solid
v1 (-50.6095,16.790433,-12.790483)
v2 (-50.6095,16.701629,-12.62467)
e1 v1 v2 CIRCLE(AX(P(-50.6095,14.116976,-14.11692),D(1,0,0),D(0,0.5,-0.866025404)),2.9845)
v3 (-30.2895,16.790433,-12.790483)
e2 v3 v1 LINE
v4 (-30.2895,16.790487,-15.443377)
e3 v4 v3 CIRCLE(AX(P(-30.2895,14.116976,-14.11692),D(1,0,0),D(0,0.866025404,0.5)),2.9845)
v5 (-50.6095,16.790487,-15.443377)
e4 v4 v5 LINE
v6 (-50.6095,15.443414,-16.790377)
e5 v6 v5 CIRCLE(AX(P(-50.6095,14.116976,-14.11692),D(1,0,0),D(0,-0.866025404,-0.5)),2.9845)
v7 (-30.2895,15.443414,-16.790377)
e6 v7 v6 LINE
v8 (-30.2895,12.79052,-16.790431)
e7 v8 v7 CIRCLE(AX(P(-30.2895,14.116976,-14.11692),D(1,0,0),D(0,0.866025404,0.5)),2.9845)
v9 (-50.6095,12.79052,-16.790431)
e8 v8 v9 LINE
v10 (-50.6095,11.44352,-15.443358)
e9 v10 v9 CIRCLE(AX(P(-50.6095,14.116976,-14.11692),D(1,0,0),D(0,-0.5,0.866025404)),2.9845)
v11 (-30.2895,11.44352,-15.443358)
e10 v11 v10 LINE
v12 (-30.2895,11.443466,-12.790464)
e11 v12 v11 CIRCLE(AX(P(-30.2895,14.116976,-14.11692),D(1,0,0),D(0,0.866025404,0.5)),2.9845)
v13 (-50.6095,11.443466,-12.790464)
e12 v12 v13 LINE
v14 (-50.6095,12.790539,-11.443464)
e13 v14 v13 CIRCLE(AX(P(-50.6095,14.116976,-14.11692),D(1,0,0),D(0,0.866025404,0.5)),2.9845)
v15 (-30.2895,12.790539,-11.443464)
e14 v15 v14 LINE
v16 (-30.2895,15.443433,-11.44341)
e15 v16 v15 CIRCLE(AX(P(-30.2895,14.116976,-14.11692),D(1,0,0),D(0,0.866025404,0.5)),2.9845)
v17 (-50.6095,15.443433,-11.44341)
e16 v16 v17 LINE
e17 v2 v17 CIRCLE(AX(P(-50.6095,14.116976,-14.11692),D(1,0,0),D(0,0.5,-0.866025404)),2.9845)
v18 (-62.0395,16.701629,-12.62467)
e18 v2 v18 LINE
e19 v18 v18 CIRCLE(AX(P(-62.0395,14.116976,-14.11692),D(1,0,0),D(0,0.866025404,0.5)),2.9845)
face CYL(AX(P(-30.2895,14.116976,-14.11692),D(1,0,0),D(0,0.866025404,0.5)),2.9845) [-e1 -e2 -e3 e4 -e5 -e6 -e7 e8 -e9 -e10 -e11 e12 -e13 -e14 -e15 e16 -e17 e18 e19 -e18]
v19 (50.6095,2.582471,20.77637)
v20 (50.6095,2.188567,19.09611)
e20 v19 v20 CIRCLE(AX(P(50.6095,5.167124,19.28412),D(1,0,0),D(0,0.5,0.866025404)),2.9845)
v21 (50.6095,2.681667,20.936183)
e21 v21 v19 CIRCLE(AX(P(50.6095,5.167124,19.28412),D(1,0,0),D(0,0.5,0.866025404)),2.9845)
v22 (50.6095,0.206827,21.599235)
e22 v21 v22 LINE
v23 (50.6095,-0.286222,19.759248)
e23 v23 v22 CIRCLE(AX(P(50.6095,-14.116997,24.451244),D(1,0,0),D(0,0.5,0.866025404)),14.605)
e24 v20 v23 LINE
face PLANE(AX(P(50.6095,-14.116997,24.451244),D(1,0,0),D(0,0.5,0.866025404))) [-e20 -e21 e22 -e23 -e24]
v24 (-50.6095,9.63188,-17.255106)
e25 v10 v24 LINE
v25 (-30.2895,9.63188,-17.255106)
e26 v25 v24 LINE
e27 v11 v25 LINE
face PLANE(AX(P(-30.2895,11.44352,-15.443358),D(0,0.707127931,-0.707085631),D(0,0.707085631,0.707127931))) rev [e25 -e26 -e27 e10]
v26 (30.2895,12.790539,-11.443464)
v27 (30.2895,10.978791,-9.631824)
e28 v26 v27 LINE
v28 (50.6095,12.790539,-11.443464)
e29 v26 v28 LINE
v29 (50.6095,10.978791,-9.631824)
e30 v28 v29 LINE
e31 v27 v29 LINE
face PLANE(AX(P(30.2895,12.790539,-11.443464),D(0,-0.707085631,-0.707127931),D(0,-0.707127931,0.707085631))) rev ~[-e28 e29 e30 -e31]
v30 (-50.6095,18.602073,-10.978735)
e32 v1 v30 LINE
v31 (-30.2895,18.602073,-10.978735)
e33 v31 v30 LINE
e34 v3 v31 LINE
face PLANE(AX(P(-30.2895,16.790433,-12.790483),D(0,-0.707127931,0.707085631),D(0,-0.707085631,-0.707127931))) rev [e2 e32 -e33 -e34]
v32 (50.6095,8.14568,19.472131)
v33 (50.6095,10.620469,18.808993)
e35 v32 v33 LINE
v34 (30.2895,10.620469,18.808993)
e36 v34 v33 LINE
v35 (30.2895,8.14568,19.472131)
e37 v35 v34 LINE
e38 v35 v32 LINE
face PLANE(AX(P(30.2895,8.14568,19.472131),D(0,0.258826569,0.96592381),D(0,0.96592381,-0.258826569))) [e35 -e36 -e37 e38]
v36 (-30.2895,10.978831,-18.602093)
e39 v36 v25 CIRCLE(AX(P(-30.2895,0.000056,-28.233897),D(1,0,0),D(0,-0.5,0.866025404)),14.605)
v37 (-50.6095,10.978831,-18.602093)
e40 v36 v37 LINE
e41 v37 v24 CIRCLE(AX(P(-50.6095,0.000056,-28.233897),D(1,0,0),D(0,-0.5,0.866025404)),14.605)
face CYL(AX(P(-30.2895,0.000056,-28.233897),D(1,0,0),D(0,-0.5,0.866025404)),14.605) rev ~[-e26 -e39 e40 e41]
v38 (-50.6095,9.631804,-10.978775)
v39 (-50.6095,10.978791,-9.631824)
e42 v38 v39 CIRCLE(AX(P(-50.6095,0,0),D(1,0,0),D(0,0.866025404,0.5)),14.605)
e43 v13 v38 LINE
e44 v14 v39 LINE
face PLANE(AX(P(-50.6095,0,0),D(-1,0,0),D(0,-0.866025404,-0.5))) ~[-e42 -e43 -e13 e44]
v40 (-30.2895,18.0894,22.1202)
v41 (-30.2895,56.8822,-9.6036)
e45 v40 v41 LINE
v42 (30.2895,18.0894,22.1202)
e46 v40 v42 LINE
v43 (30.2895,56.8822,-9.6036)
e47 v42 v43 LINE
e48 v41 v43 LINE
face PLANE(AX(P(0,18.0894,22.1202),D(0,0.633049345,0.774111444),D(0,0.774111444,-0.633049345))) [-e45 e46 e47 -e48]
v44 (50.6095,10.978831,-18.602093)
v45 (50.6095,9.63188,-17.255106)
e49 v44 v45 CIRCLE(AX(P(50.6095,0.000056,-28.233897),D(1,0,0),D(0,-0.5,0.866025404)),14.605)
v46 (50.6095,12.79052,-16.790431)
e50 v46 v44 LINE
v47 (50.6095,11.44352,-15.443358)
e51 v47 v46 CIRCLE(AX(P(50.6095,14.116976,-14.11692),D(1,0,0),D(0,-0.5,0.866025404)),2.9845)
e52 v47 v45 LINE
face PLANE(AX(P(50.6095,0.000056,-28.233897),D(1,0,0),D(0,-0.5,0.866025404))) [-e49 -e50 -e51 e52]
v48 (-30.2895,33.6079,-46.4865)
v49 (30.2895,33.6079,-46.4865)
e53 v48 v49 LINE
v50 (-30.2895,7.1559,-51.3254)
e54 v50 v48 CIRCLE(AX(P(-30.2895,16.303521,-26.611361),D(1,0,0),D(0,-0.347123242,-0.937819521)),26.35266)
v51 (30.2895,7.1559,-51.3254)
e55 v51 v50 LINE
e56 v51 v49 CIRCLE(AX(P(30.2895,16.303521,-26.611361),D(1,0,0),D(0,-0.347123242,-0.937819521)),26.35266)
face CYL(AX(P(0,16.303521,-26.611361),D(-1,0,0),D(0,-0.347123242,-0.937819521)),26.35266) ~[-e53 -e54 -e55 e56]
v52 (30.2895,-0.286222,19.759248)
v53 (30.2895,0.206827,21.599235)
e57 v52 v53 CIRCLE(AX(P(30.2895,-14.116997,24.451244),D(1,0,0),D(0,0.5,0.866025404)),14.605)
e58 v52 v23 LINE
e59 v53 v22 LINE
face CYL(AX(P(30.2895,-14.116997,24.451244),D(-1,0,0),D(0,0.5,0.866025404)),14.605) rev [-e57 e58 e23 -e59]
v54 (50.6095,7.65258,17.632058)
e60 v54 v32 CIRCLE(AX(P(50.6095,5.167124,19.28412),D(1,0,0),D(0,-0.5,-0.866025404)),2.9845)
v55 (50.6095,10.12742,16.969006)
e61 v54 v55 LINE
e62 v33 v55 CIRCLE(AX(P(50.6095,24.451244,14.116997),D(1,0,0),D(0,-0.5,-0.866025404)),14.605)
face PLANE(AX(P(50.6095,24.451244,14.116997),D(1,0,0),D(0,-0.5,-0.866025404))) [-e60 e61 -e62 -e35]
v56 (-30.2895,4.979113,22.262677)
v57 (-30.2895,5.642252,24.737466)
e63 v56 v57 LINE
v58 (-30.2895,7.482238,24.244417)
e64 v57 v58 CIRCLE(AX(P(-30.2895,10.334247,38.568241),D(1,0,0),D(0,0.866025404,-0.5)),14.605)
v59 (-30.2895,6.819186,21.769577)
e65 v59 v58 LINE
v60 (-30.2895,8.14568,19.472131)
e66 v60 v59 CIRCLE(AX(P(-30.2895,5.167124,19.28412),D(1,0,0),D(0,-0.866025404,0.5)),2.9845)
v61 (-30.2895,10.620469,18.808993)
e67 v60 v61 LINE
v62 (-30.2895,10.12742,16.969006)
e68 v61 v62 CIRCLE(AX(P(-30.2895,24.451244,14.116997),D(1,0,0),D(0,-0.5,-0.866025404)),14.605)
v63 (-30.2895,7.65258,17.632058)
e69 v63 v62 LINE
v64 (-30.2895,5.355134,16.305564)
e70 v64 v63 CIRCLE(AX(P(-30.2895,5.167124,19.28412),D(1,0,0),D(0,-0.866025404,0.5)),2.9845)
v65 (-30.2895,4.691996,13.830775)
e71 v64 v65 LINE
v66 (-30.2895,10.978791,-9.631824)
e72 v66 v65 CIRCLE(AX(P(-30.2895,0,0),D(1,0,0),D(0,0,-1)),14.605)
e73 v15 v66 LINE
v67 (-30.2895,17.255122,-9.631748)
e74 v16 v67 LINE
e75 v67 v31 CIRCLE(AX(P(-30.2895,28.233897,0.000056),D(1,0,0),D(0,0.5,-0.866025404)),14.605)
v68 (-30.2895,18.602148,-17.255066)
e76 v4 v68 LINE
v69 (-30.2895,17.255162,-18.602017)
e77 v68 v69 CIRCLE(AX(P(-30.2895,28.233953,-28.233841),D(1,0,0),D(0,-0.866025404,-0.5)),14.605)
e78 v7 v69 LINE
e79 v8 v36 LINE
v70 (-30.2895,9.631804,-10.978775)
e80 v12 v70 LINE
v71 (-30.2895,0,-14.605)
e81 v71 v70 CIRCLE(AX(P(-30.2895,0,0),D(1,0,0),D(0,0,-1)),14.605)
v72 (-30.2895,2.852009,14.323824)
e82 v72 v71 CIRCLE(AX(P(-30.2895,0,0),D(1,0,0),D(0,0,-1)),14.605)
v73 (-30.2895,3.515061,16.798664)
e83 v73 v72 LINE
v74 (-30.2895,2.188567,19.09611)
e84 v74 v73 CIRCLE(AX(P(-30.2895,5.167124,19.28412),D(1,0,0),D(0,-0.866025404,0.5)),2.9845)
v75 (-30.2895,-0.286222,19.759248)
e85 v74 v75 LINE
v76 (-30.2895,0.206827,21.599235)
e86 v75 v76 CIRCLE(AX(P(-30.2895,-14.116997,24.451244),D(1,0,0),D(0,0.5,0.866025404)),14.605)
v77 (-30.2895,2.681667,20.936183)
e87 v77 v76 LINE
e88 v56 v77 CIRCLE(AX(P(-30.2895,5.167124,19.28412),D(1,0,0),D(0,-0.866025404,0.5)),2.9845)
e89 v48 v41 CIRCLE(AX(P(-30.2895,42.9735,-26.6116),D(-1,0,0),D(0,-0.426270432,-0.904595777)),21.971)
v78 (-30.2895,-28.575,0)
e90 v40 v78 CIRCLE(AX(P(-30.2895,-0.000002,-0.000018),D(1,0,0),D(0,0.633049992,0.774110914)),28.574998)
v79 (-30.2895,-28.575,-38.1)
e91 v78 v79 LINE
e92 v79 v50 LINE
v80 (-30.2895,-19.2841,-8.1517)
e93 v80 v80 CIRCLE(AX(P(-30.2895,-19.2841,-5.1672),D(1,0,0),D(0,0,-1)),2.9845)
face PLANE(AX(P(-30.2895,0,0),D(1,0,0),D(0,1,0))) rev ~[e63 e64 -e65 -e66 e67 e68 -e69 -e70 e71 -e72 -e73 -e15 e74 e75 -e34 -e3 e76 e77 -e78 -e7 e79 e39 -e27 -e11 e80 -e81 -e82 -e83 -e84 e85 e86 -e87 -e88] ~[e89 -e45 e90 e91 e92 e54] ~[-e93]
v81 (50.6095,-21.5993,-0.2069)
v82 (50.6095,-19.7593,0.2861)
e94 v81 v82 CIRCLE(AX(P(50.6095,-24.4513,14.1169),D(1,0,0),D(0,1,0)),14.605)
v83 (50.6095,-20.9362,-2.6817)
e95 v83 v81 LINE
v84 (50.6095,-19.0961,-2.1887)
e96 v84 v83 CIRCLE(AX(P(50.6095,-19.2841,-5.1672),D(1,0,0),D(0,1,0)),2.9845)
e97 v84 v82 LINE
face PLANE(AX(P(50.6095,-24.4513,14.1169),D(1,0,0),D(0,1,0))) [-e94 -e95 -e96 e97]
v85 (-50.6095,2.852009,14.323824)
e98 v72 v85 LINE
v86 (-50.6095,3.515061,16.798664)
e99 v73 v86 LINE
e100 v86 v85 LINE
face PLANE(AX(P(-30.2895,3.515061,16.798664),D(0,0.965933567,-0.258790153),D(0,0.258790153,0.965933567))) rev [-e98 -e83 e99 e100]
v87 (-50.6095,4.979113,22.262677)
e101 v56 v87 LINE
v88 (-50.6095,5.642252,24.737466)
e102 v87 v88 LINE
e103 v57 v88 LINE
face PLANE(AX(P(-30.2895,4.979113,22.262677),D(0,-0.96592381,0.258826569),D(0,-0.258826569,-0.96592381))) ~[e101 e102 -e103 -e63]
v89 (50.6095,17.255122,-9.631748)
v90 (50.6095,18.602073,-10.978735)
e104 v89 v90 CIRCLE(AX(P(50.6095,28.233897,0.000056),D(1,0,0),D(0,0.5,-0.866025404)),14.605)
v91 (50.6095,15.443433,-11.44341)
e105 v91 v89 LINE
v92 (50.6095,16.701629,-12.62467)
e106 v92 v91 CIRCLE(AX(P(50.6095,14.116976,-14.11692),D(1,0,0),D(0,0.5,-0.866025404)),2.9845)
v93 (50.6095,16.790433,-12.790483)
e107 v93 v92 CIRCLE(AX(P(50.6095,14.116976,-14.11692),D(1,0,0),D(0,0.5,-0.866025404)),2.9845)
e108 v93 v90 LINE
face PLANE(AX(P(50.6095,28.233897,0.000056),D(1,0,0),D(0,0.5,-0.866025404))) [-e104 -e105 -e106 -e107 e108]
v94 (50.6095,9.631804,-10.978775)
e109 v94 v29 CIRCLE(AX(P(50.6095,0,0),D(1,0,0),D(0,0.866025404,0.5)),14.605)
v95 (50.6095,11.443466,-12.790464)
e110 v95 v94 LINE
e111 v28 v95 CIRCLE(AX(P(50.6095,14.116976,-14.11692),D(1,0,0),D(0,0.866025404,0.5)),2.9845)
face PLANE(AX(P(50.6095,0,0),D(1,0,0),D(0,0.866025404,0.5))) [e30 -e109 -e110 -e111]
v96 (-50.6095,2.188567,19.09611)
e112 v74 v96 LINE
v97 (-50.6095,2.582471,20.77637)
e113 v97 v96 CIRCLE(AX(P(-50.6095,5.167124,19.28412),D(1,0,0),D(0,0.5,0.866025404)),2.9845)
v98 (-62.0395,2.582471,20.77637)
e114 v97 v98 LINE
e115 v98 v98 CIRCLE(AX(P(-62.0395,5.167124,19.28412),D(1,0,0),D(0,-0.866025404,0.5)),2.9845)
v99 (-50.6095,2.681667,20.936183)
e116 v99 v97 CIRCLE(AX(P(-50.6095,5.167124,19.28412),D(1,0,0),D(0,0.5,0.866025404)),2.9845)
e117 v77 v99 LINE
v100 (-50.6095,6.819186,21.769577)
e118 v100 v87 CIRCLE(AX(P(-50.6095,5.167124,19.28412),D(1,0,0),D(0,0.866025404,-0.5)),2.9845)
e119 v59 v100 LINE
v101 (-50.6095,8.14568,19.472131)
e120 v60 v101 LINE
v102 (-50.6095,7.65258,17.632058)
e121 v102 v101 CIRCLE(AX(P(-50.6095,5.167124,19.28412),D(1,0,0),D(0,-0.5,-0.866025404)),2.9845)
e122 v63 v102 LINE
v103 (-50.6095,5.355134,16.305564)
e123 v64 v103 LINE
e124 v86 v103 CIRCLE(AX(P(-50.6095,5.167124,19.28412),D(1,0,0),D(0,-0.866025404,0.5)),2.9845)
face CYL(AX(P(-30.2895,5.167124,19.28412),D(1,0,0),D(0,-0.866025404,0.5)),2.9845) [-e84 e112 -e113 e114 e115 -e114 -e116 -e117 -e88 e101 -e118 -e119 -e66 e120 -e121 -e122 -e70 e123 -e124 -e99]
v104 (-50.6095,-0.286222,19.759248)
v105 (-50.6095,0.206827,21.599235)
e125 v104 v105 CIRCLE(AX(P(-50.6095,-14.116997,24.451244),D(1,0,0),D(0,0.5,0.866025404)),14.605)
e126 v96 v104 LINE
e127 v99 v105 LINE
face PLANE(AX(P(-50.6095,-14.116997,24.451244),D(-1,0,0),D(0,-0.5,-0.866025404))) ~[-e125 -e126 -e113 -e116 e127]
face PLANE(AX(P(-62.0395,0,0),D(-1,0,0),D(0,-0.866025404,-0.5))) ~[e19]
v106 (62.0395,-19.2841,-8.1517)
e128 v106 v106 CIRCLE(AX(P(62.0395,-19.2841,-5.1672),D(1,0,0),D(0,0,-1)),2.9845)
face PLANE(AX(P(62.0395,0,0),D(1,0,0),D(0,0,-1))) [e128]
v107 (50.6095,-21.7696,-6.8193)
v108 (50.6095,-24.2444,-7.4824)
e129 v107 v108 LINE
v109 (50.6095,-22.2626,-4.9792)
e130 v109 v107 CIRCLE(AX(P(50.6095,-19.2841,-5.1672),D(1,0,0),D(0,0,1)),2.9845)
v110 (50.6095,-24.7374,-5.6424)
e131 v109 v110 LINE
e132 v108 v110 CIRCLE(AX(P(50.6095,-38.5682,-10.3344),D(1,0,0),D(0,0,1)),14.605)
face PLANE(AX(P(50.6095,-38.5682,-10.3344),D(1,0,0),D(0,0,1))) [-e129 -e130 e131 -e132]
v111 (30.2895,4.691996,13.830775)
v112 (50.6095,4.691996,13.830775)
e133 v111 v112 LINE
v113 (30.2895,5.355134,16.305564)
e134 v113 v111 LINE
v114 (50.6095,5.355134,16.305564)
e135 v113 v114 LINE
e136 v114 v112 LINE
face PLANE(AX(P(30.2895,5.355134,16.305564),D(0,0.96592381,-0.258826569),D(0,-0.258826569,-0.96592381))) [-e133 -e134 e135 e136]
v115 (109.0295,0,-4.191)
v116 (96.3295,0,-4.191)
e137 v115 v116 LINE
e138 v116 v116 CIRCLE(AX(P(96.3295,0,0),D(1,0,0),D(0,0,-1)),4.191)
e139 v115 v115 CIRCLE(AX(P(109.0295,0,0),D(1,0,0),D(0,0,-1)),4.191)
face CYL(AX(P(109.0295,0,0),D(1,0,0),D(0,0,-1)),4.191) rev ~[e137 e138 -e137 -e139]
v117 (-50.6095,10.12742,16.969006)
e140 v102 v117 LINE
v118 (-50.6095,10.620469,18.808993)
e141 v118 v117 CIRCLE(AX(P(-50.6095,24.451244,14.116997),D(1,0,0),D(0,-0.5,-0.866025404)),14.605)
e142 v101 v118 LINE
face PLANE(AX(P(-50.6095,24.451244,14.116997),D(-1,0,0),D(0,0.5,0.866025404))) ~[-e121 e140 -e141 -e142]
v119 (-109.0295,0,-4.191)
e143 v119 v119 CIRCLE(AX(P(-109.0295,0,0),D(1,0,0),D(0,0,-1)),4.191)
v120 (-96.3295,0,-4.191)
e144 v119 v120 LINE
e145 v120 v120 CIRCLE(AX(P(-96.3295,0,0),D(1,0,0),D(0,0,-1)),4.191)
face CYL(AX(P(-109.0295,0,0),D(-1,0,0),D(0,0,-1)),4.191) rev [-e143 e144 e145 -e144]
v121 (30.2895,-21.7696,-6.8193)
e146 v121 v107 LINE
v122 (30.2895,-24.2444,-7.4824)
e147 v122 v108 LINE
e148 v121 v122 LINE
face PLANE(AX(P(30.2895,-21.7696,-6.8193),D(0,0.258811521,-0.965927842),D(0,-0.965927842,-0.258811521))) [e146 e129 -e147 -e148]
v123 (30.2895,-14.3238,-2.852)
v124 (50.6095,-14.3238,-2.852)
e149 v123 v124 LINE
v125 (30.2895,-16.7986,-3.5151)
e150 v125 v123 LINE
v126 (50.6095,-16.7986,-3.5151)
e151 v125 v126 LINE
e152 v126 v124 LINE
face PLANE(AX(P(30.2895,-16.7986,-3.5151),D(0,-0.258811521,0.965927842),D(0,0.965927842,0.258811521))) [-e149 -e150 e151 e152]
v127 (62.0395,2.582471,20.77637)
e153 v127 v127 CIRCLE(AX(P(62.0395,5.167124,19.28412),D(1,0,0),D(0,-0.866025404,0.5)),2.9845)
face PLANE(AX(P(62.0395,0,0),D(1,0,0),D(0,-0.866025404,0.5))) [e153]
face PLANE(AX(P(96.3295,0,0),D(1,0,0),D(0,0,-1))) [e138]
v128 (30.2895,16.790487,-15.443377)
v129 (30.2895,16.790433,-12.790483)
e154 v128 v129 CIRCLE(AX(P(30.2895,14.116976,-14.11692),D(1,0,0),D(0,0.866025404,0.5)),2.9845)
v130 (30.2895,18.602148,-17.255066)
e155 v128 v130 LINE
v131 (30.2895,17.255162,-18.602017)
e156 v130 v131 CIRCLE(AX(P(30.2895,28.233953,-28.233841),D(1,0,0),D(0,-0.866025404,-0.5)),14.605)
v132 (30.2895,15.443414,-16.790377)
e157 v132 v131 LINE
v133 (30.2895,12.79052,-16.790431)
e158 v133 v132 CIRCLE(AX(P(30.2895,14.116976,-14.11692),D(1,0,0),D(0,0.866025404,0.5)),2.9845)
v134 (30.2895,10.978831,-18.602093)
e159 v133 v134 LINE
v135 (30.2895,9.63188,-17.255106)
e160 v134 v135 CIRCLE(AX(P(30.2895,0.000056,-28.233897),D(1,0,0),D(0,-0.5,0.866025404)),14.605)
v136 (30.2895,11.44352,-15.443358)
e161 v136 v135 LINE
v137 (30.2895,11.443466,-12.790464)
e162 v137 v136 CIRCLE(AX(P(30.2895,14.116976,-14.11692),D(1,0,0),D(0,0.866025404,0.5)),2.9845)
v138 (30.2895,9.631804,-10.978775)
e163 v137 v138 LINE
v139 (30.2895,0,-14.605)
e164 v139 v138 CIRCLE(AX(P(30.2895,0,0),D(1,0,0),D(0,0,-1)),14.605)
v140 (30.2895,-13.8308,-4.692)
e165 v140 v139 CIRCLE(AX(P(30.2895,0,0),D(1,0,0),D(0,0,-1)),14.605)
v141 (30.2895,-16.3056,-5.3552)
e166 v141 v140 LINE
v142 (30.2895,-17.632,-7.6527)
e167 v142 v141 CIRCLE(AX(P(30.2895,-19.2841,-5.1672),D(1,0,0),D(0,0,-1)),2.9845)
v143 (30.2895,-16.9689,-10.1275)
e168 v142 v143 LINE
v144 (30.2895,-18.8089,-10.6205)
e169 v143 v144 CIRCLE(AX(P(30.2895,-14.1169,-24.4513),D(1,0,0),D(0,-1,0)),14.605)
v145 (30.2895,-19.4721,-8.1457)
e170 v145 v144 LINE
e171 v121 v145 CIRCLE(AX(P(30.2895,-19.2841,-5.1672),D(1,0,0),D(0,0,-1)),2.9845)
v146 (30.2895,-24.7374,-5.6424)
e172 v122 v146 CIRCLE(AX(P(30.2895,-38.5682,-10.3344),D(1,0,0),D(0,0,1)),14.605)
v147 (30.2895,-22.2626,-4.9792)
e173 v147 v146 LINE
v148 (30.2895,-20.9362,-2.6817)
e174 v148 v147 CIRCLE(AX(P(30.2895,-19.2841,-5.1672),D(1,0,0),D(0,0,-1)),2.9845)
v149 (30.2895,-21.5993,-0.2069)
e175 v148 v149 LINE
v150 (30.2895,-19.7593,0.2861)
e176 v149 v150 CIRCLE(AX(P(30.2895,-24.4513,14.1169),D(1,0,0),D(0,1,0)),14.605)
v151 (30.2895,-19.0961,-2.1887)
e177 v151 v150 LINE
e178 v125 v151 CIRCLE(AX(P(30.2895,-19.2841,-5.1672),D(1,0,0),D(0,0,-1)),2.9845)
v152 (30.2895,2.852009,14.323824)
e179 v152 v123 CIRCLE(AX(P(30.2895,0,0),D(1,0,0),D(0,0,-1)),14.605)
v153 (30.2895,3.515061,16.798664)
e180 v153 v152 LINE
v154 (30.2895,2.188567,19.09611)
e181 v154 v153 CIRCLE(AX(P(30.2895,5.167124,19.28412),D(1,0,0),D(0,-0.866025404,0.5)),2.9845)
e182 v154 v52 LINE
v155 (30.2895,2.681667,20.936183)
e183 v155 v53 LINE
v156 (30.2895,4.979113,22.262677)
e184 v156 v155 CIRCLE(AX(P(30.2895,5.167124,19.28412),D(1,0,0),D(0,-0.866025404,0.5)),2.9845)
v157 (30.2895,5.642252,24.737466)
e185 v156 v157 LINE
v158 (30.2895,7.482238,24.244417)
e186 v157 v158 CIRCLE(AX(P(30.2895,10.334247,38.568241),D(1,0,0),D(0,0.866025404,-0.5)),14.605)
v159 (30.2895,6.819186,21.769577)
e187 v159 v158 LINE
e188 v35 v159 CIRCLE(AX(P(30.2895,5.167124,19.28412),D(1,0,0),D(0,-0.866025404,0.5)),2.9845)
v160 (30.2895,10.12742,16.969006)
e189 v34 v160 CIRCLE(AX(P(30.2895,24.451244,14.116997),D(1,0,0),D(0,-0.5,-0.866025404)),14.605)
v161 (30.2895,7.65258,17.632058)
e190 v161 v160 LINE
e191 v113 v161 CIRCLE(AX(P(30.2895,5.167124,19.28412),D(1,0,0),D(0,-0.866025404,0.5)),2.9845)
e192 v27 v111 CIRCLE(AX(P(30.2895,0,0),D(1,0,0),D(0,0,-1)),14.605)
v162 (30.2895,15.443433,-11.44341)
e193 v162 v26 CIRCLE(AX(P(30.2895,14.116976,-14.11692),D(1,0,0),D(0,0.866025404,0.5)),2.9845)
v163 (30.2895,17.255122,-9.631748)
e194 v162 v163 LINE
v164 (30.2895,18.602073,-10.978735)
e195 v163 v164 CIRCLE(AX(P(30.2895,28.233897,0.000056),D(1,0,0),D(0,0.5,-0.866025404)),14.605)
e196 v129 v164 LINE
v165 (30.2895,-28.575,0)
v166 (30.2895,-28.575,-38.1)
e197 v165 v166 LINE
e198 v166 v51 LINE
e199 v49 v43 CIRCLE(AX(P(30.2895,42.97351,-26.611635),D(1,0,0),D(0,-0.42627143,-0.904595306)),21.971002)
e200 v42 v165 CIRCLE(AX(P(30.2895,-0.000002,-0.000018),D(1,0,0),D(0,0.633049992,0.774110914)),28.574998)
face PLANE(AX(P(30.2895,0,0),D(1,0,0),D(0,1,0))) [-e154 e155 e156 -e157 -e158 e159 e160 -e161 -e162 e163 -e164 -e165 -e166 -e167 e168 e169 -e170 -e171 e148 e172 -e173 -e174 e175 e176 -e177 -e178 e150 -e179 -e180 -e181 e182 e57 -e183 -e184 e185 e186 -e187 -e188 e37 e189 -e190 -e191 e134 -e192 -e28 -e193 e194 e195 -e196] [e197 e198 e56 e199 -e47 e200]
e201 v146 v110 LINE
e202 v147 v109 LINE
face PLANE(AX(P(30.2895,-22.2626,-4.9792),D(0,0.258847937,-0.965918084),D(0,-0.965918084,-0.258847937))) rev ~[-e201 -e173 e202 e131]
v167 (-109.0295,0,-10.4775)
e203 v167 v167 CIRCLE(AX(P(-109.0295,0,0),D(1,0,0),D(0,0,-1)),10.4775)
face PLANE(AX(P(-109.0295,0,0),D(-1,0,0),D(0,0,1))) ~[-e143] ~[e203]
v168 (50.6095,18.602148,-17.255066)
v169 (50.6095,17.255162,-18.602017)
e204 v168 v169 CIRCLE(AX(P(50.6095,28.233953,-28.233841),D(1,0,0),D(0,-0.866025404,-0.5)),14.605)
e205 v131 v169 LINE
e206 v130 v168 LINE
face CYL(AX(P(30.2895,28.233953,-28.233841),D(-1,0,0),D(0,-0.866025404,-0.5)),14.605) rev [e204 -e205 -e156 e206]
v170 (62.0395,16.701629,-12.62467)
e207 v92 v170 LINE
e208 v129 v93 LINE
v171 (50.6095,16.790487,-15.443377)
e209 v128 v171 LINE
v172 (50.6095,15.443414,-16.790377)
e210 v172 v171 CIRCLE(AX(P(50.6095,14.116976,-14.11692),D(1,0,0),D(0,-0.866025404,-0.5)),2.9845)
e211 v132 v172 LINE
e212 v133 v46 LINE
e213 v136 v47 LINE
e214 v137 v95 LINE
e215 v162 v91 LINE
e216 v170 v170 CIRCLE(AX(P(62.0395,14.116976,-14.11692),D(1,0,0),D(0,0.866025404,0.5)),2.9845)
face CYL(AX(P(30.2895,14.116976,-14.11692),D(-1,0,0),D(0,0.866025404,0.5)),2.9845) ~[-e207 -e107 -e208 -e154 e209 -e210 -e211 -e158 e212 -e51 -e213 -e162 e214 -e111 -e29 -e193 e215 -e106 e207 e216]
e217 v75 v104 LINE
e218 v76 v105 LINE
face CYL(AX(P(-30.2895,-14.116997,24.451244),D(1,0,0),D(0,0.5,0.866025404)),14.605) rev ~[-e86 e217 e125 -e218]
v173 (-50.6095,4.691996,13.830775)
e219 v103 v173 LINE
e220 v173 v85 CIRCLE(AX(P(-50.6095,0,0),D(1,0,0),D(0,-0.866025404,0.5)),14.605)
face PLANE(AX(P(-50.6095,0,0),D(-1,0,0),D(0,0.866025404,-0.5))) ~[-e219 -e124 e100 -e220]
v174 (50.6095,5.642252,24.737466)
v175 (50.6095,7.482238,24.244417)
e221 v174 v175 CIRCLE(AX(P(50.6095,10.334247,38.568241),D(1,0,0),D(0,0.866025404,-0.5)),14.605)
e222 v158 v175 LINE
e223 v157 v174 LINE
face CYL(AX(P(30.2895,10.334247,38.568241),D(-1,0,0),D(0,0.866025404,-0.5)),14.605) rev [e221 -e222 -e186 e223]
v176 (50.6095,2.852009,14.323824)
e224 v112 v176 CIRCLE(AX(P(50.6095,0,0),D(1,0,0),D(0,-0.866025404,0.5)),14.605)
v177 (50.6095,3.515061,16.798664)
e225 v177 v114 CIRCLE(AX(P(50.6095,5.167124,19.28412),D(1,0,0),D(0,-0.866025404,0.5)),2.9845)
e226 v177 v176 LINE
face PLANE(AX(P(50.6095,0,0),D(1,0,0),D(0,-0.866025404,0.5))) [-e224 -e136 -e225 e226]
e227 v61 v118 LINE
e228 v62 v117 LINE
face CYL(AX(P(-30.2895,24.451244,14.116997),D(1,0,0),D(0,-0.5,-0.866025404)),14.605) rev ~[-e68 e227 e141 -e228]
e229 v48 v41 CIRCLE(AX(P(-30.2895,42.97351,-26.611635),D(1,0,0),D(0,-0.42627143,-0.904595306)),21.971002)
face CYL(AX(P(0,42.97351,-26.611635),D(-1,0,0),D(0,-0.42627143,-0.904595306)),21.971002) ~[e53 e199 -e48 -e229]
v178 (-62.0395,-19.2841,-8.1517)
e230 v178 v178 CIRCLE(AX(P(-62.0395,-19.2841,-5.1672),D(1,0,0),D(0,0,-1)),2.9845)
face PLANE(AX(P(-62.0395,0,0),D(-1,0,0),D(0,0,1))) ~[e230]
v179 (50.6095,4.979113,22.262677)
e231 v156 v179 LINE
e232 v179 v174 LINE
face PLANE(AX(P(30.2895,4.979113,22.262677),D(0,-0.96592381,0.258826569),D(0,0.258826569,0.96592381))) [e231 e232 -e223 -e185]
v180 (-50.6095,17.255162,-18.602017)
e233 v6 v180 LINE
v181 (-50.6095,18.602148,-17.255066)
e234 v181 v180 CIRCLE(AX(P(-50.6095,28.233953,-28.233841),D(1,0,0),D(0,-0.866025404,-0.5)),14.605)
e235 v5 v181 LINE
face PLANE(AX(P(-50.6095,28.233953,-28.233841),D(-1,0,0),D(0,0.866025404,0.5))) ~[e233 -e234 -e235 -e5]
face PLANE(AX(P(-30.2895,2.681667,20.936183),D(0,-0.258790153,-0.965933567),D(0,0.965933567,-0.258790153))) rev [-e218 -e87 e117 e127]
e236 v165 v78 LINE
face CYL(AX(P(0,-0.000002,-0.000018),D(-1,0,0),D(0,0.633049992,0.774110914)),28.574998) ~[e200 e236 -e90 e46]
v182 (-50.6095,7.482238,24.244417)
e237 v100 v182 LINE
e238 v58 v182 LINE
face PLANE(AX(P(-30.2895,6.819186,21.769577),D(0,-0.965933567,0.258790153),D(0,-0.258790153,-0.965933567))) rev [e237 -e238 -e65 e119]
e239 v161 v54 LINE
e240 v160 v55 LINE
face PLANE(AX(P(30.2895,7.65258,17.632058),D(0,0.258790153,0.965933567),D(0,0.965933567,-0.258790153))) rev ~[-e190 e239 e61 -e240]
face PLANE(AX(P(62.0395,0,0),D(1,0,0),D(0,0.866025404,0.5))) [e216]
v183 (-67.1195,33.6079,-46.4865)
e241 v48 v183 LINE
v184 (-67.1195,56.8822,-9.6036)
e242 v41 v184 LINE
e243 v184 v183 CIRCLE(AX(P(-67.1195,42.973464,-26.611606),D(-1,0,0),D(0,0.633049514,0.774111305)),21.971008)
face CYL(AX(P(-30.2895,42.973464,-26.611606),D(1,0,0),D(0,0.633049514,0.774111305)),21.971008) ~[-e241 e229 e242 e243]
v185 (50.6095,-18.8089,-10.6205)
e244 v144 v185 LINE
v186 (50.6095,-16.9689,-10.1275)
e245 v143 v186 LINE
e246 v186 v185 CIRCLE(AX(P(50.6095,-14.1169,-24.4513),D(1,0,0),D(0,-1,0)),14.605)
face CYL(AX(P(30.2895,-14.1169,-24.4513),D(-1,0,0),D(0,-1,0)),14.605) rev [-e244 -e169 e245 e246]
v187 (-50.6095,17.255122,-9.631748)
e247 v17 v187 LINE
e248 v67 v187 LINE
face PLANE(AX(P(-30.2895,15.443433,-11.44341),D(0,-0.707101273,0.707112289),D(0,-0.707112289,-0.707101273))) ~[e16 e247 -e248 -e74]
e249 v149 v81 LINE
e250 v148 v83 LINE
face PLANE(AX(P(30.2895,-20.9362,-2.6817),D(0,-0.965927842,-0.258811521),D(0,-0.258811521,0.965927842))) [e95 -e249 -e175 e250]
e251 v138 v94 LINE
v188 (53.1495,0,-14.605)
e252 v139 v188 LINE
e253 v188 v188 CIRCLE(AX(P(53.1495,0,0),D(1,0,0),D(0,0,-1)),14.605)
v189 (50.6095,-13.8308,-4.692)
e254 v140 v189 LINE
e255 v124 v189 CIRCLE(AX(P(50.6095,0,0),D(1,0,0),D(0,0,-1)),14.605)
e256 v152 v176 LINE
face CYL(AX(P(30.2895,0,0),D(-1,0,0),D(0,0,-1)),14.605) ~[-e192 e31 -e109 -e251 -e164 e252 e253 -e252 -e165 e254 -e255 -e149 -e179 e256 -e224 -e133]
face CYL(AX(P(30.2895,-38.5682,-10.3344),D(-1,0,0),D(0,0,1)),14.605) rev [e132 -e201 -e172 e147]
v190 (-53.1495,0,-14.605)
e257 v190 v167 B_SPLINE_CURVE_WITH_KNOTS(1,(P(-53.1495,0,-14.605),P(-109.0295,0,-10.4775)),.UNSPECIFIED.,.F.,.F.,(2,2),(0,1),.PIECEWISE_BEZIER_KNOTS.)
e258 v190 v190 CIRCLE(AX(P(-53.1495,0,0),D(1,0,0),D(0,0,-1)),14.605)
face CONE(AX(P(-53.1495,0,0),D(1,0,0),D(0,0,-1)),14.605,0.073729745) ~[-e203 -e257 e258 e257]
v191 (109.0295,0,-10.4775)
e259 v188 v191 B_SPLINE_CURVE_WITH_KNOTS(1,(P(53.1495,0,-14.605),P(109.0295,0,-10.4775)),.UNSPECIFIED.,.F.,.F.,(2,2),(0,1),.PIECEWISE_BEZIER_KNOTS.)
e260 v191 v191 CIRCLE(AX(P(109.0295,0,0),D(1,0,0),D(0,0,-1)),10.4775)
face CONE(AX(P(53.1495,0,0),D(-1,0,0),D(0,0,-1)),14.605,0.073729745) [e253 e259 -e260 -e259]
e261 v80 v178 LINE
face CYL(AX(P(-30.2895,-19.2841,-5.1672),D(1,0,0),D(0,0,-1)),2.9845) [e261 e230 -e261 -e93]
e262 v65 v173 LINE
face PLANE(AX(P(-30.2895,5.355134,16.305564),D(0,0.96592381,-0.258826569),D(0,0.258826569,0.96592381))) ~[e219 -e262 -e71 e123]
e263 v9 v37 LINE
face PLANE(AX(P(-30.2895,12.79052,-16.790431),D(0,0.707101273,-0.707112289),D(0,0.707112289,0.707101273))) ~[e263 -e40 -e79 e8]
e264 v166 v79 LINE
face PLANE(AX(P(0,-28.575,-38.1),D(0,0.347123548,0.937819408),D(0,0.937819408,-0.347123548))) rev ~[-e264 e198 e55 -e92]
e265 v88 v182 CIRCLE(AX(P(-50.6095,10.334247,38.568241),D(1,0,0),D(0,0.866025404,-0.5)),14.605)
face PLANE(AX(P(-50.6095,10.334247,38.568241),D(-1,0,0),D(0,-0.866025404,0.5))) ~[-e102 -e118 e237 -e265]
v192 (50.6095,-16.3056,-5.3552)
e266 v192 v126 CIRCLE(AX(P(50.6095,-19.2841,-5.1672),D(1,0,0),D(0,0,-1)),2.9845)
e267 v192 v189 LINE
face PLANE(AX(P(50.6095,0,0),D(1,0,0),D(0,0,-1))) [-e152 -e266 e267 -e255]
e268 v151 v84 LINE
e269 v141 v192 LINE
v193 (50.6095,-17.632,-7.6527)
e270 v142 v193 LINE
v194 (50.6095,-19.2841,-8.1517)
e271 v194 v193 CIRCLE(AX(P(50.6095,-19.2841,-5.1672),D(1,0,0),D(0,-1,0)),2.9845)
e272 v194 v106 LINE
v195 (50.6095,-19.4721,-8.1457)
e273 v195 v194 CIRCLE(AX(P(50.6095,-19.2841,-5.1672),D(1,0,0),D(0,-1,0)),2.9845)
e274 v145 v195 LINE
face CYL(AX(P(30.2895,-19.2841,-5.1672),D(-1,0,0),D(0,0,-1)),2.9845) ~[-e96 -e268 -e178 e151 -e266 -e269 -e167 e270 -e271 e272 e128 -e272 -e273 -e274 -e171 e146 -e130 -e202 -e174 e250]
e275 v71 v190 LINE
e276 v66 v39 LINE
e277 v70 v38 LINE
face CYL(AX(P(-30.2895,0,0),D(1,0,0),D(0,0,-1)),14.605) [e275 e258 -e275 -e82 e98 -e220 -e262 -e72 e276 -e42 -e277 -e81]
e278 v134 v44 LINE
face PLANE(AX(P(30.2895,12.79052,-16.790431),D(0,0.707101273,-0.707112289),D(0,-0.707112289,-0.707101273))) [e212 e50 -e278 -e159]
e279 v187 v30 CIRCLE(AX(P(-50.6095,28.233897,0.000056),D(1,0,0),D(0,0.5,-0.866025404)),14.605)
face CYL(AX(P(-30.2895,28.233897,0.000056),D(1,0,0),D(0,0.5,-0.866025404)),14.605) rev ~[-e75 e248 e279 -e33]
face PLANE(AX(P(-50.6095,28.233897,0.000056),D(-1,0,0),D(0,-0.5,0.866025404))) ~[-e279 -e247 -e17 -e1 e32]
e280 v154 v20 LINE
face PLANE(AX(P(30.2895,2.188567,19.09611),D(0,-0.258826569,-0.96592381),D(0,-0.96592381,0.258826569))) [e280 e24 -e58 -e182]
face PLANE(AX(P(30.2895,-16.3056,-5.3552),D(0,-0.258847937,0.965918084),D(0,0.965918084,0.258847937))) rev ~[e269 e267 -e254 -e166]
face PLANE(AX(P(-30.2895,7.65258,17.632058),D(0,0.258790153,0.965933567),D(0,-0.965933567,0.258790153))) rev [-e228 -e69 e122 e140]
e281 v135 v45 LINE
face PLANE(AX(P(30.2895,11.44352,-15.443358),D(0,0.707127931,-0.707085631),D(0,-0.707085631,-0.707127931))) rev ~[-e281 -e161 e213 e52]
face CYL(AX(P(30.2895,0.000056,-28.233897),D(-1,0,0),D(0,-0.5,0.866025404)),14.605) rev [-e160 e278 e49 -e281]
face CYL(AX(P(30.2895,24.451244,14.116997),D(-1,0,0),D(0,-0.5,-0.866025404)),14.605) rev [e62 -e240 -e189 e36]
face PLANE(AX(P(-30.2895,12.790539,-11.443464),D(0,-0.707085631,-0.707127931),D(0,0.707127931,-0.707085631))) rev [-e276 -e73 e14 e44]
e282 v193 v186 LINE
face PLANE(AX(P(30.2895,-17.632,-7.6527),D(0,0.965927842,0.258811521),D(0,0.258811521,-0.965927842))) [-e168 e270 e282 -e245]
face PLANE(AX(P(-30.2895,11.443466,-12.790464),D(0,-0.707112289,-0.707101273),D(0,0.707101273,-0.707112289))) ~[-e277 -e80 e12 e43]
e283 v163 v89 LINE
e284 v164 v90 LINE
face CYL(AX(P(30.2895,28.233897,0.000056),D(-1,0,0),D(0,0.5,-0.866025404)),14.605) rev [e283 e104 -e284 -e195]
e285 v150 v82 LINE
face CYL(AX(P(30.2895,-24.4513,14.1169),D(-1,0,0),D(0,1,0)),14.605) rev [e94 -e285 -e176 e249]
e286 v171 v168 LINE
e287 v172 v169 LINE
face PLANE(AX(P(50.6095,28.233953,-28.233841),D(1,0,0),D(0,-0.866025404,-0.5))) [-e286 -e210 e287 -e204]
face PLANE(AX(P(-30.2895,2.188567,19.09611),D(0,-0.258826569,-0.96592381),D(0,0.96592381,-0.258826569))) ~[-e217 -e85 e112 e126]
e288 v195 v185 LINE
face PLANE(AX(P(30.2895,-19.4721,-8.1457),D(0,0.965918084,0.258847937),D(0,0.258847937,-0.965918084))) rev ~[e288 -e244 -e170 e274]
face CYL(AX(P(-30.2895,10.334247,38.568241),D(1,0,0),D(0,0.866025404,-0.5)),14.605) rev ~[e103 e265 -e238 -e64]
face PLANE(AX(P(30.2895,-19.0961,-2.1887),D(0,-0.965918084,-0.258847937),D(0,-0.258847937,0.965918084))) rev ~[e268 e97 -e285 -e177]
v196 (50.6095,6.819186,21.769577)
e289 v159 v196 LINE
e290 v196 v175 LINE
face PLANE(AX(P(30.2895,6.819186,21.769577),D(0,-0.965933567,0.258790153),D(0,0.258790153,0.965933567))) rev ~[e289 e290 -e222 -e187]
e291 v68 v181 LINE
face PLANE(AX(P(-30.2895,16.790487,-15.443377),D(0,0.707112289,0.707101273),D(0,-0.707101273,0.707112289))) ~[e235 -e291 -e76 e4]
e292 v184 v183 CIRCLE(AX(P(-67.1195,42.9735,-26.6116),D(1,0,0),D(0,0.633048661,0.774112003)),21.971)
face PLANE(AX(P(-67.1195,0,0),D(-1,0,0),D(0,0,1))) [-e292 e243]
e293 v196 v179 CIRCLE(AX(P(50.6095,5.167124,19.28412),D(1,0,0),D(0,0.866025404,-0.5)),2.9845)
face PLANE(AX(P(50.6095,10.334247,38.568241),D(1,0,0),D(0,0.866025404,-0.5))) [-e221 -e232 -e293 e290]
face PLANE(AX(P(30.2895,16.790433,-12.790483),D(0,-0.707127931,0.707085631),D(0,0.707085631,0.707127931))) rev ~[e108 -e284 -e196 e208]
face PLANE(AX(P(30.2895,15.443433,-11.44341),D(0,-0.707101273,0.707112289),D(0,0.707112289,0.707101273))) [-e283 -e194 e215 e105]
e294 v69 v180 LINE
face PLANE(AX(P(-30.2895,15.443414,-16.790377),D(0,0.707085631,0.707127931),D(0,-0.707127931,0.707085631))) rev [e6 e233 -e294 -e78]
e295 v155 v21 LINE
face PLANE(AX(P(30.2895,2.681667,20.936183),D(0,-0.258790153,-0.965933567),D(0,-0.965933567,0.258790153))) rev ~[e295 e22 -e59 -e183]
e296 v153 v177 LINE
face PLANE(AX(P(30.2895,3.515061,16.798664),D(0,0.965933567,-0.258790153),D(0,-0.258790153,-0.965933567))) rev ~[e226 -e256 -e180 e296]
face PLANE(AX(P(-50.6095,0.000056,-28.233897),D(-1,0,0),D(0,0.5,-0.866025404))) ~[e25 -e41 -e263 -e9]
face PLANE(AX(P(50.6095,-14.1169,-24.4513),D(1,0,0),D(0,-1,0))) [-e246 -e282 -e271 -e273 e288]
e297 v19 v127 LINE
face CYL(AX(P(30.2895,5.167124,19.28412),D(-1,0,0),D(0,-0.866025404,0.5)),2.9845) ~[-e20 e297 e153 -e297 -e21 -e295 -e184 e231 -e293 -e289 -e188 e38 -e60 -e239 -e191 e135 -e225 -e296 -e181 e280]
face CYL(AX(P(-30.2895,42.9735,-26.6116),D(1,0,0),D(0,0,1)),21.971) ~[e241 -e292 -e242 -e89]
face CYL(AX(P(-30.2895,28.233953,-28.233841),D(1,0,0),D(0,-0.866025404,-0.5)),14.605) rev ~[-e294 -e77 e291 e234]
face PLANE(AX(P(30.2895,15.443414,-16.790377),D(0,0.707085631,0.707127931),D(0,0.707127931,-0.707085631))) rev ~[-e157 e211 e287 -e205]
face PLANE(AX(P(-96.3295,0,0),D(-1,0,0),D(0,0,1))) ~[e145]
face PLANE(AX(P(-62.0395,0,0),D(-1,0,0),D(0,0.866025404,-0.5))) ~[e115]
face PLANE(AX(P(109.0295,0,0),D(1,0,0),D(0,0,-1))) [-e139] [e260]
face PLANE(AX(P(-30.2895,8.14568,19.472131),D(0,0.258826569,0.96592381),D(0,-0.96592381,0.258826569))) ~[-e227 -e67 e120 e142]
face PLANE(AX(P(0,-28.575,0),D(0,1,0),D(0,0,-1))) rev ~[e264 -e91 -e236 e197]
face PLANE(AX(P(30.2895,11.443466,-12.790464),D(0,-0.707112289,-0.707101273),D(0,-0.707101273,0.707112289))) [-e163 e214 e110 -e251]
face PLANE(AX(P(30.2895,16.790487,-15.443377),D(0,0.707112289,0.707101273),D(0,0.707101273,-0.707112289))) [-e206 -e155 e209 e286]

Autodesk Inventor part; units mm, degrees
ref_plane "YZ Plane" through (0, 0, 0) normal (1, 0, 0) x (0, 1, 0)
ref_plane "XZ Plane" through (0, 0, 0) normal (0, 1, 0) x (-1, 0, 0)
ref_plane "XY Plane" through (0, 0, 0) normal (0, 0, 1) x (1, 0, 0)
sketch "Sketch1" plane through (0, 0, 0) normal (1, 0, 0) x (0, 1, 0)
  arc A0 (24.2941, -15.0442) -> (28.3956, -3.1971) centre (0, 0) ccw construction
  arc A1 (33.6079, -46.4865) -> (56.8822, -9.6036) centre (42.9735, -26.6116) ccw
  line L0 (18.0894, 22.1202) -> (56.8822, -9.6036)
  line L1 (-28.575, 0) -> (-28.575, -38.1)
  line L2 (-28.575, -38.1) -> (7.1559, -51.3254)
  arc A2 (-10.0486, -26.7499) -> (7.1559, -51.3254) centre (16.3035, -26.6116) ccw construction
  line L3 (42.9735, -26.6116) -> (16.3035, -26.6116) construction
  arc A3 (21.0025, -26.6116) -> (33.6079, -46.4865) centre (42.9735, -26.6116) ccw construction
  arc A4 (-10.0486, -26.7499) -> (24.2941, -15.0442) centre (0, 0) ccw construction
  arc A5 (28.3956, -3.1971) -> (18.0894, 22.1202) centre (0, 0) ccw construction
  arc A6 (18.0894, 22.1202) -> (-28.575, 0) centre (0, 0) ccw
  arc A7 (56.8822, -9.6036) -> (21.0025, -26.6116) centre (42.9735, -26.6116) ccw construction
  arc A8 (28.3956, -3.1971) -> (-10.0486, -26.7499) centre (16.3035, -26.6116) ccw construction
  arc A9 (-28.575, 0) -> (-10.0486, -26.7499) centre (0, 0) ccw construction
  arc A10 (7.1559, -51.3254) -> (33.6079, -46.4865) centre (16.3035, -26.6116) ccw
  arc A11 (33.6079, -46.4865) -> (28.3956, -3.1971) centre (16.3035, -26.6116) ccw construction
  dimension "d0" = 57.15
  dimension "d1" = 43.942
  dimension "d3" = 52.705
  dimension "d4" = 38.1
  dimension "d5" = 26.67
extrude "Extrusion1" add sketch "Sketch1" along normal mid plane 60.579
sketch "Sketch2" plane through (30.2895, 0, 0) normal (1, 0, 0) x (0, 0, -1)
  circle A0 centre (0, 0) radius 14.605
  dimension "d8" = 29.21
extrude "Extrusion2" add sketch "Sketch2" along normal blind 22.86
sketch "Sketch3" plane through (53.1495, 0, 0) normal (1, 0, 0) x (0, 0, -1)
  circle A0 centre (0, 0) radius 14.605 projected
  circle A1 centre (0, 0) radius 14.605
ref_plane "Work Plane1" through (109.0295, 0, 0) normal (1, 0, 0) x (0, 0, -1)
sketch "Sketch4" plane through (109.0295, 0, 0) normal (1, 0, 0) x (0, 0, -1)
  circle A0 centre (0, 0) radius 10.4775
  dimension "d12" = 20.955
loft "Loft1" add profiles "Sketch3", "Sketch4"
sketch "Sketch5" plane through (109.0295, 0, 0) normal (1, 0, 0) x (0, 0, -1)
  circle A0 centre (0, 0) radius 4.191
  dimension "d17" = 8.382
extrude "Extrusion3" cut sketch "Sketch5" against normal blind 12.7
sketch "Sketch6" plane through (30.2895, 0, 0) normal (1, 0, 0) x (0, 0, -1)
  circle A0 centre (0, 0) radius 19.9644 construction
  circle A1 centre (0, 0) radius 4.191 projected
  line L0 (0, 0) -> (0, -19.9644) construction
  line L1 (0, 0) -> (5.1672, -19.2841) construction
  circle A2 centre (5.1672, -19.2841) radius 2.9845
  circle A3 centre (0, 0) radius 14.605 construction
  line L2 (5.1672, -19.2841) -> (3.7801, -14.1073) construction
  circle A4 centre (0, 0) radius 4.191 projected
  circle A5 centre (0, 0) radius 14.605 construction
  dimension "d20" = 15
  dimension "d21" = 5.969
  dimension "d37" = 19.9644
extrude "Extrusion4" add sketch "Sketch6" along normal blind 31.75 contours A2
sketch "Sketch7" plane through (30.2895, 0, 0) normal (1, 0, 0) x (0, 0, -1)
  circle A0 centre (0, 0) radius 14.605 projected
  circle A1 centre (5.1672, -19.2841) radius 2.9845 projected
  circle A2 centre (0, 0) radius 14.605
  circle A3 centre (5.1672, -19.2841) radius 2.9845
  line L0 (3.5151, -16.7986) -> (2.852, -14.3238)
  line L1 (5.3552, -16.3056) -> (4.692, -13.8308)
  line L2 (0, 0) -> (5.1672, -19.2841) construction
  line L3 (5.0236, -15.0682) -> (4.1036, -15.3147) construction
  line L4 (4.1036, -15.3147) -> (3.1835, -15.5612) construction
  dimension "d29" = 1.905
extrude "Extrusion5" add sketch "Sketch7" along normal blind 20.32 contours A0 L1 A1 L0
pattern_circular "Circular Pattern2" count 4 over 360 about axis through (30.2895, -19.2841, -5.1672) along (1, 0, 0) of "Extrusion5"
pattern_circular "Circular Pattern1" count 3 over 360 about axis through (109.0295, 0, 0) along (-1, 0, 0) of "Extrusion4", "Extrusion5", "Circular Pattern2"
mirror "Mirror1" about plane through (0, 0, 0) normal (1, 0, 0) of "Extrusion2", "Loft1", "Extrusion3", "Extrusion4", "Circular Pattern1"
sketch "Sketch8" plane through (-30.2895, 0, 0) normal (-1, 0, 0) x (0, 0, 1)
  arc A0 (-9.6036, 56.8822) -> (-46.4865, 33.6079) centre (-26.6116, 42.9735) ccw projected
  circle A1 centre (-26.6116, 42.9735) radius 21.971
  point P0 (0, 0)
extrude "Extrusion6" add sketch "Sketch8" along normal blind 36.83
properties part number "Back_Wheel_Drive"
